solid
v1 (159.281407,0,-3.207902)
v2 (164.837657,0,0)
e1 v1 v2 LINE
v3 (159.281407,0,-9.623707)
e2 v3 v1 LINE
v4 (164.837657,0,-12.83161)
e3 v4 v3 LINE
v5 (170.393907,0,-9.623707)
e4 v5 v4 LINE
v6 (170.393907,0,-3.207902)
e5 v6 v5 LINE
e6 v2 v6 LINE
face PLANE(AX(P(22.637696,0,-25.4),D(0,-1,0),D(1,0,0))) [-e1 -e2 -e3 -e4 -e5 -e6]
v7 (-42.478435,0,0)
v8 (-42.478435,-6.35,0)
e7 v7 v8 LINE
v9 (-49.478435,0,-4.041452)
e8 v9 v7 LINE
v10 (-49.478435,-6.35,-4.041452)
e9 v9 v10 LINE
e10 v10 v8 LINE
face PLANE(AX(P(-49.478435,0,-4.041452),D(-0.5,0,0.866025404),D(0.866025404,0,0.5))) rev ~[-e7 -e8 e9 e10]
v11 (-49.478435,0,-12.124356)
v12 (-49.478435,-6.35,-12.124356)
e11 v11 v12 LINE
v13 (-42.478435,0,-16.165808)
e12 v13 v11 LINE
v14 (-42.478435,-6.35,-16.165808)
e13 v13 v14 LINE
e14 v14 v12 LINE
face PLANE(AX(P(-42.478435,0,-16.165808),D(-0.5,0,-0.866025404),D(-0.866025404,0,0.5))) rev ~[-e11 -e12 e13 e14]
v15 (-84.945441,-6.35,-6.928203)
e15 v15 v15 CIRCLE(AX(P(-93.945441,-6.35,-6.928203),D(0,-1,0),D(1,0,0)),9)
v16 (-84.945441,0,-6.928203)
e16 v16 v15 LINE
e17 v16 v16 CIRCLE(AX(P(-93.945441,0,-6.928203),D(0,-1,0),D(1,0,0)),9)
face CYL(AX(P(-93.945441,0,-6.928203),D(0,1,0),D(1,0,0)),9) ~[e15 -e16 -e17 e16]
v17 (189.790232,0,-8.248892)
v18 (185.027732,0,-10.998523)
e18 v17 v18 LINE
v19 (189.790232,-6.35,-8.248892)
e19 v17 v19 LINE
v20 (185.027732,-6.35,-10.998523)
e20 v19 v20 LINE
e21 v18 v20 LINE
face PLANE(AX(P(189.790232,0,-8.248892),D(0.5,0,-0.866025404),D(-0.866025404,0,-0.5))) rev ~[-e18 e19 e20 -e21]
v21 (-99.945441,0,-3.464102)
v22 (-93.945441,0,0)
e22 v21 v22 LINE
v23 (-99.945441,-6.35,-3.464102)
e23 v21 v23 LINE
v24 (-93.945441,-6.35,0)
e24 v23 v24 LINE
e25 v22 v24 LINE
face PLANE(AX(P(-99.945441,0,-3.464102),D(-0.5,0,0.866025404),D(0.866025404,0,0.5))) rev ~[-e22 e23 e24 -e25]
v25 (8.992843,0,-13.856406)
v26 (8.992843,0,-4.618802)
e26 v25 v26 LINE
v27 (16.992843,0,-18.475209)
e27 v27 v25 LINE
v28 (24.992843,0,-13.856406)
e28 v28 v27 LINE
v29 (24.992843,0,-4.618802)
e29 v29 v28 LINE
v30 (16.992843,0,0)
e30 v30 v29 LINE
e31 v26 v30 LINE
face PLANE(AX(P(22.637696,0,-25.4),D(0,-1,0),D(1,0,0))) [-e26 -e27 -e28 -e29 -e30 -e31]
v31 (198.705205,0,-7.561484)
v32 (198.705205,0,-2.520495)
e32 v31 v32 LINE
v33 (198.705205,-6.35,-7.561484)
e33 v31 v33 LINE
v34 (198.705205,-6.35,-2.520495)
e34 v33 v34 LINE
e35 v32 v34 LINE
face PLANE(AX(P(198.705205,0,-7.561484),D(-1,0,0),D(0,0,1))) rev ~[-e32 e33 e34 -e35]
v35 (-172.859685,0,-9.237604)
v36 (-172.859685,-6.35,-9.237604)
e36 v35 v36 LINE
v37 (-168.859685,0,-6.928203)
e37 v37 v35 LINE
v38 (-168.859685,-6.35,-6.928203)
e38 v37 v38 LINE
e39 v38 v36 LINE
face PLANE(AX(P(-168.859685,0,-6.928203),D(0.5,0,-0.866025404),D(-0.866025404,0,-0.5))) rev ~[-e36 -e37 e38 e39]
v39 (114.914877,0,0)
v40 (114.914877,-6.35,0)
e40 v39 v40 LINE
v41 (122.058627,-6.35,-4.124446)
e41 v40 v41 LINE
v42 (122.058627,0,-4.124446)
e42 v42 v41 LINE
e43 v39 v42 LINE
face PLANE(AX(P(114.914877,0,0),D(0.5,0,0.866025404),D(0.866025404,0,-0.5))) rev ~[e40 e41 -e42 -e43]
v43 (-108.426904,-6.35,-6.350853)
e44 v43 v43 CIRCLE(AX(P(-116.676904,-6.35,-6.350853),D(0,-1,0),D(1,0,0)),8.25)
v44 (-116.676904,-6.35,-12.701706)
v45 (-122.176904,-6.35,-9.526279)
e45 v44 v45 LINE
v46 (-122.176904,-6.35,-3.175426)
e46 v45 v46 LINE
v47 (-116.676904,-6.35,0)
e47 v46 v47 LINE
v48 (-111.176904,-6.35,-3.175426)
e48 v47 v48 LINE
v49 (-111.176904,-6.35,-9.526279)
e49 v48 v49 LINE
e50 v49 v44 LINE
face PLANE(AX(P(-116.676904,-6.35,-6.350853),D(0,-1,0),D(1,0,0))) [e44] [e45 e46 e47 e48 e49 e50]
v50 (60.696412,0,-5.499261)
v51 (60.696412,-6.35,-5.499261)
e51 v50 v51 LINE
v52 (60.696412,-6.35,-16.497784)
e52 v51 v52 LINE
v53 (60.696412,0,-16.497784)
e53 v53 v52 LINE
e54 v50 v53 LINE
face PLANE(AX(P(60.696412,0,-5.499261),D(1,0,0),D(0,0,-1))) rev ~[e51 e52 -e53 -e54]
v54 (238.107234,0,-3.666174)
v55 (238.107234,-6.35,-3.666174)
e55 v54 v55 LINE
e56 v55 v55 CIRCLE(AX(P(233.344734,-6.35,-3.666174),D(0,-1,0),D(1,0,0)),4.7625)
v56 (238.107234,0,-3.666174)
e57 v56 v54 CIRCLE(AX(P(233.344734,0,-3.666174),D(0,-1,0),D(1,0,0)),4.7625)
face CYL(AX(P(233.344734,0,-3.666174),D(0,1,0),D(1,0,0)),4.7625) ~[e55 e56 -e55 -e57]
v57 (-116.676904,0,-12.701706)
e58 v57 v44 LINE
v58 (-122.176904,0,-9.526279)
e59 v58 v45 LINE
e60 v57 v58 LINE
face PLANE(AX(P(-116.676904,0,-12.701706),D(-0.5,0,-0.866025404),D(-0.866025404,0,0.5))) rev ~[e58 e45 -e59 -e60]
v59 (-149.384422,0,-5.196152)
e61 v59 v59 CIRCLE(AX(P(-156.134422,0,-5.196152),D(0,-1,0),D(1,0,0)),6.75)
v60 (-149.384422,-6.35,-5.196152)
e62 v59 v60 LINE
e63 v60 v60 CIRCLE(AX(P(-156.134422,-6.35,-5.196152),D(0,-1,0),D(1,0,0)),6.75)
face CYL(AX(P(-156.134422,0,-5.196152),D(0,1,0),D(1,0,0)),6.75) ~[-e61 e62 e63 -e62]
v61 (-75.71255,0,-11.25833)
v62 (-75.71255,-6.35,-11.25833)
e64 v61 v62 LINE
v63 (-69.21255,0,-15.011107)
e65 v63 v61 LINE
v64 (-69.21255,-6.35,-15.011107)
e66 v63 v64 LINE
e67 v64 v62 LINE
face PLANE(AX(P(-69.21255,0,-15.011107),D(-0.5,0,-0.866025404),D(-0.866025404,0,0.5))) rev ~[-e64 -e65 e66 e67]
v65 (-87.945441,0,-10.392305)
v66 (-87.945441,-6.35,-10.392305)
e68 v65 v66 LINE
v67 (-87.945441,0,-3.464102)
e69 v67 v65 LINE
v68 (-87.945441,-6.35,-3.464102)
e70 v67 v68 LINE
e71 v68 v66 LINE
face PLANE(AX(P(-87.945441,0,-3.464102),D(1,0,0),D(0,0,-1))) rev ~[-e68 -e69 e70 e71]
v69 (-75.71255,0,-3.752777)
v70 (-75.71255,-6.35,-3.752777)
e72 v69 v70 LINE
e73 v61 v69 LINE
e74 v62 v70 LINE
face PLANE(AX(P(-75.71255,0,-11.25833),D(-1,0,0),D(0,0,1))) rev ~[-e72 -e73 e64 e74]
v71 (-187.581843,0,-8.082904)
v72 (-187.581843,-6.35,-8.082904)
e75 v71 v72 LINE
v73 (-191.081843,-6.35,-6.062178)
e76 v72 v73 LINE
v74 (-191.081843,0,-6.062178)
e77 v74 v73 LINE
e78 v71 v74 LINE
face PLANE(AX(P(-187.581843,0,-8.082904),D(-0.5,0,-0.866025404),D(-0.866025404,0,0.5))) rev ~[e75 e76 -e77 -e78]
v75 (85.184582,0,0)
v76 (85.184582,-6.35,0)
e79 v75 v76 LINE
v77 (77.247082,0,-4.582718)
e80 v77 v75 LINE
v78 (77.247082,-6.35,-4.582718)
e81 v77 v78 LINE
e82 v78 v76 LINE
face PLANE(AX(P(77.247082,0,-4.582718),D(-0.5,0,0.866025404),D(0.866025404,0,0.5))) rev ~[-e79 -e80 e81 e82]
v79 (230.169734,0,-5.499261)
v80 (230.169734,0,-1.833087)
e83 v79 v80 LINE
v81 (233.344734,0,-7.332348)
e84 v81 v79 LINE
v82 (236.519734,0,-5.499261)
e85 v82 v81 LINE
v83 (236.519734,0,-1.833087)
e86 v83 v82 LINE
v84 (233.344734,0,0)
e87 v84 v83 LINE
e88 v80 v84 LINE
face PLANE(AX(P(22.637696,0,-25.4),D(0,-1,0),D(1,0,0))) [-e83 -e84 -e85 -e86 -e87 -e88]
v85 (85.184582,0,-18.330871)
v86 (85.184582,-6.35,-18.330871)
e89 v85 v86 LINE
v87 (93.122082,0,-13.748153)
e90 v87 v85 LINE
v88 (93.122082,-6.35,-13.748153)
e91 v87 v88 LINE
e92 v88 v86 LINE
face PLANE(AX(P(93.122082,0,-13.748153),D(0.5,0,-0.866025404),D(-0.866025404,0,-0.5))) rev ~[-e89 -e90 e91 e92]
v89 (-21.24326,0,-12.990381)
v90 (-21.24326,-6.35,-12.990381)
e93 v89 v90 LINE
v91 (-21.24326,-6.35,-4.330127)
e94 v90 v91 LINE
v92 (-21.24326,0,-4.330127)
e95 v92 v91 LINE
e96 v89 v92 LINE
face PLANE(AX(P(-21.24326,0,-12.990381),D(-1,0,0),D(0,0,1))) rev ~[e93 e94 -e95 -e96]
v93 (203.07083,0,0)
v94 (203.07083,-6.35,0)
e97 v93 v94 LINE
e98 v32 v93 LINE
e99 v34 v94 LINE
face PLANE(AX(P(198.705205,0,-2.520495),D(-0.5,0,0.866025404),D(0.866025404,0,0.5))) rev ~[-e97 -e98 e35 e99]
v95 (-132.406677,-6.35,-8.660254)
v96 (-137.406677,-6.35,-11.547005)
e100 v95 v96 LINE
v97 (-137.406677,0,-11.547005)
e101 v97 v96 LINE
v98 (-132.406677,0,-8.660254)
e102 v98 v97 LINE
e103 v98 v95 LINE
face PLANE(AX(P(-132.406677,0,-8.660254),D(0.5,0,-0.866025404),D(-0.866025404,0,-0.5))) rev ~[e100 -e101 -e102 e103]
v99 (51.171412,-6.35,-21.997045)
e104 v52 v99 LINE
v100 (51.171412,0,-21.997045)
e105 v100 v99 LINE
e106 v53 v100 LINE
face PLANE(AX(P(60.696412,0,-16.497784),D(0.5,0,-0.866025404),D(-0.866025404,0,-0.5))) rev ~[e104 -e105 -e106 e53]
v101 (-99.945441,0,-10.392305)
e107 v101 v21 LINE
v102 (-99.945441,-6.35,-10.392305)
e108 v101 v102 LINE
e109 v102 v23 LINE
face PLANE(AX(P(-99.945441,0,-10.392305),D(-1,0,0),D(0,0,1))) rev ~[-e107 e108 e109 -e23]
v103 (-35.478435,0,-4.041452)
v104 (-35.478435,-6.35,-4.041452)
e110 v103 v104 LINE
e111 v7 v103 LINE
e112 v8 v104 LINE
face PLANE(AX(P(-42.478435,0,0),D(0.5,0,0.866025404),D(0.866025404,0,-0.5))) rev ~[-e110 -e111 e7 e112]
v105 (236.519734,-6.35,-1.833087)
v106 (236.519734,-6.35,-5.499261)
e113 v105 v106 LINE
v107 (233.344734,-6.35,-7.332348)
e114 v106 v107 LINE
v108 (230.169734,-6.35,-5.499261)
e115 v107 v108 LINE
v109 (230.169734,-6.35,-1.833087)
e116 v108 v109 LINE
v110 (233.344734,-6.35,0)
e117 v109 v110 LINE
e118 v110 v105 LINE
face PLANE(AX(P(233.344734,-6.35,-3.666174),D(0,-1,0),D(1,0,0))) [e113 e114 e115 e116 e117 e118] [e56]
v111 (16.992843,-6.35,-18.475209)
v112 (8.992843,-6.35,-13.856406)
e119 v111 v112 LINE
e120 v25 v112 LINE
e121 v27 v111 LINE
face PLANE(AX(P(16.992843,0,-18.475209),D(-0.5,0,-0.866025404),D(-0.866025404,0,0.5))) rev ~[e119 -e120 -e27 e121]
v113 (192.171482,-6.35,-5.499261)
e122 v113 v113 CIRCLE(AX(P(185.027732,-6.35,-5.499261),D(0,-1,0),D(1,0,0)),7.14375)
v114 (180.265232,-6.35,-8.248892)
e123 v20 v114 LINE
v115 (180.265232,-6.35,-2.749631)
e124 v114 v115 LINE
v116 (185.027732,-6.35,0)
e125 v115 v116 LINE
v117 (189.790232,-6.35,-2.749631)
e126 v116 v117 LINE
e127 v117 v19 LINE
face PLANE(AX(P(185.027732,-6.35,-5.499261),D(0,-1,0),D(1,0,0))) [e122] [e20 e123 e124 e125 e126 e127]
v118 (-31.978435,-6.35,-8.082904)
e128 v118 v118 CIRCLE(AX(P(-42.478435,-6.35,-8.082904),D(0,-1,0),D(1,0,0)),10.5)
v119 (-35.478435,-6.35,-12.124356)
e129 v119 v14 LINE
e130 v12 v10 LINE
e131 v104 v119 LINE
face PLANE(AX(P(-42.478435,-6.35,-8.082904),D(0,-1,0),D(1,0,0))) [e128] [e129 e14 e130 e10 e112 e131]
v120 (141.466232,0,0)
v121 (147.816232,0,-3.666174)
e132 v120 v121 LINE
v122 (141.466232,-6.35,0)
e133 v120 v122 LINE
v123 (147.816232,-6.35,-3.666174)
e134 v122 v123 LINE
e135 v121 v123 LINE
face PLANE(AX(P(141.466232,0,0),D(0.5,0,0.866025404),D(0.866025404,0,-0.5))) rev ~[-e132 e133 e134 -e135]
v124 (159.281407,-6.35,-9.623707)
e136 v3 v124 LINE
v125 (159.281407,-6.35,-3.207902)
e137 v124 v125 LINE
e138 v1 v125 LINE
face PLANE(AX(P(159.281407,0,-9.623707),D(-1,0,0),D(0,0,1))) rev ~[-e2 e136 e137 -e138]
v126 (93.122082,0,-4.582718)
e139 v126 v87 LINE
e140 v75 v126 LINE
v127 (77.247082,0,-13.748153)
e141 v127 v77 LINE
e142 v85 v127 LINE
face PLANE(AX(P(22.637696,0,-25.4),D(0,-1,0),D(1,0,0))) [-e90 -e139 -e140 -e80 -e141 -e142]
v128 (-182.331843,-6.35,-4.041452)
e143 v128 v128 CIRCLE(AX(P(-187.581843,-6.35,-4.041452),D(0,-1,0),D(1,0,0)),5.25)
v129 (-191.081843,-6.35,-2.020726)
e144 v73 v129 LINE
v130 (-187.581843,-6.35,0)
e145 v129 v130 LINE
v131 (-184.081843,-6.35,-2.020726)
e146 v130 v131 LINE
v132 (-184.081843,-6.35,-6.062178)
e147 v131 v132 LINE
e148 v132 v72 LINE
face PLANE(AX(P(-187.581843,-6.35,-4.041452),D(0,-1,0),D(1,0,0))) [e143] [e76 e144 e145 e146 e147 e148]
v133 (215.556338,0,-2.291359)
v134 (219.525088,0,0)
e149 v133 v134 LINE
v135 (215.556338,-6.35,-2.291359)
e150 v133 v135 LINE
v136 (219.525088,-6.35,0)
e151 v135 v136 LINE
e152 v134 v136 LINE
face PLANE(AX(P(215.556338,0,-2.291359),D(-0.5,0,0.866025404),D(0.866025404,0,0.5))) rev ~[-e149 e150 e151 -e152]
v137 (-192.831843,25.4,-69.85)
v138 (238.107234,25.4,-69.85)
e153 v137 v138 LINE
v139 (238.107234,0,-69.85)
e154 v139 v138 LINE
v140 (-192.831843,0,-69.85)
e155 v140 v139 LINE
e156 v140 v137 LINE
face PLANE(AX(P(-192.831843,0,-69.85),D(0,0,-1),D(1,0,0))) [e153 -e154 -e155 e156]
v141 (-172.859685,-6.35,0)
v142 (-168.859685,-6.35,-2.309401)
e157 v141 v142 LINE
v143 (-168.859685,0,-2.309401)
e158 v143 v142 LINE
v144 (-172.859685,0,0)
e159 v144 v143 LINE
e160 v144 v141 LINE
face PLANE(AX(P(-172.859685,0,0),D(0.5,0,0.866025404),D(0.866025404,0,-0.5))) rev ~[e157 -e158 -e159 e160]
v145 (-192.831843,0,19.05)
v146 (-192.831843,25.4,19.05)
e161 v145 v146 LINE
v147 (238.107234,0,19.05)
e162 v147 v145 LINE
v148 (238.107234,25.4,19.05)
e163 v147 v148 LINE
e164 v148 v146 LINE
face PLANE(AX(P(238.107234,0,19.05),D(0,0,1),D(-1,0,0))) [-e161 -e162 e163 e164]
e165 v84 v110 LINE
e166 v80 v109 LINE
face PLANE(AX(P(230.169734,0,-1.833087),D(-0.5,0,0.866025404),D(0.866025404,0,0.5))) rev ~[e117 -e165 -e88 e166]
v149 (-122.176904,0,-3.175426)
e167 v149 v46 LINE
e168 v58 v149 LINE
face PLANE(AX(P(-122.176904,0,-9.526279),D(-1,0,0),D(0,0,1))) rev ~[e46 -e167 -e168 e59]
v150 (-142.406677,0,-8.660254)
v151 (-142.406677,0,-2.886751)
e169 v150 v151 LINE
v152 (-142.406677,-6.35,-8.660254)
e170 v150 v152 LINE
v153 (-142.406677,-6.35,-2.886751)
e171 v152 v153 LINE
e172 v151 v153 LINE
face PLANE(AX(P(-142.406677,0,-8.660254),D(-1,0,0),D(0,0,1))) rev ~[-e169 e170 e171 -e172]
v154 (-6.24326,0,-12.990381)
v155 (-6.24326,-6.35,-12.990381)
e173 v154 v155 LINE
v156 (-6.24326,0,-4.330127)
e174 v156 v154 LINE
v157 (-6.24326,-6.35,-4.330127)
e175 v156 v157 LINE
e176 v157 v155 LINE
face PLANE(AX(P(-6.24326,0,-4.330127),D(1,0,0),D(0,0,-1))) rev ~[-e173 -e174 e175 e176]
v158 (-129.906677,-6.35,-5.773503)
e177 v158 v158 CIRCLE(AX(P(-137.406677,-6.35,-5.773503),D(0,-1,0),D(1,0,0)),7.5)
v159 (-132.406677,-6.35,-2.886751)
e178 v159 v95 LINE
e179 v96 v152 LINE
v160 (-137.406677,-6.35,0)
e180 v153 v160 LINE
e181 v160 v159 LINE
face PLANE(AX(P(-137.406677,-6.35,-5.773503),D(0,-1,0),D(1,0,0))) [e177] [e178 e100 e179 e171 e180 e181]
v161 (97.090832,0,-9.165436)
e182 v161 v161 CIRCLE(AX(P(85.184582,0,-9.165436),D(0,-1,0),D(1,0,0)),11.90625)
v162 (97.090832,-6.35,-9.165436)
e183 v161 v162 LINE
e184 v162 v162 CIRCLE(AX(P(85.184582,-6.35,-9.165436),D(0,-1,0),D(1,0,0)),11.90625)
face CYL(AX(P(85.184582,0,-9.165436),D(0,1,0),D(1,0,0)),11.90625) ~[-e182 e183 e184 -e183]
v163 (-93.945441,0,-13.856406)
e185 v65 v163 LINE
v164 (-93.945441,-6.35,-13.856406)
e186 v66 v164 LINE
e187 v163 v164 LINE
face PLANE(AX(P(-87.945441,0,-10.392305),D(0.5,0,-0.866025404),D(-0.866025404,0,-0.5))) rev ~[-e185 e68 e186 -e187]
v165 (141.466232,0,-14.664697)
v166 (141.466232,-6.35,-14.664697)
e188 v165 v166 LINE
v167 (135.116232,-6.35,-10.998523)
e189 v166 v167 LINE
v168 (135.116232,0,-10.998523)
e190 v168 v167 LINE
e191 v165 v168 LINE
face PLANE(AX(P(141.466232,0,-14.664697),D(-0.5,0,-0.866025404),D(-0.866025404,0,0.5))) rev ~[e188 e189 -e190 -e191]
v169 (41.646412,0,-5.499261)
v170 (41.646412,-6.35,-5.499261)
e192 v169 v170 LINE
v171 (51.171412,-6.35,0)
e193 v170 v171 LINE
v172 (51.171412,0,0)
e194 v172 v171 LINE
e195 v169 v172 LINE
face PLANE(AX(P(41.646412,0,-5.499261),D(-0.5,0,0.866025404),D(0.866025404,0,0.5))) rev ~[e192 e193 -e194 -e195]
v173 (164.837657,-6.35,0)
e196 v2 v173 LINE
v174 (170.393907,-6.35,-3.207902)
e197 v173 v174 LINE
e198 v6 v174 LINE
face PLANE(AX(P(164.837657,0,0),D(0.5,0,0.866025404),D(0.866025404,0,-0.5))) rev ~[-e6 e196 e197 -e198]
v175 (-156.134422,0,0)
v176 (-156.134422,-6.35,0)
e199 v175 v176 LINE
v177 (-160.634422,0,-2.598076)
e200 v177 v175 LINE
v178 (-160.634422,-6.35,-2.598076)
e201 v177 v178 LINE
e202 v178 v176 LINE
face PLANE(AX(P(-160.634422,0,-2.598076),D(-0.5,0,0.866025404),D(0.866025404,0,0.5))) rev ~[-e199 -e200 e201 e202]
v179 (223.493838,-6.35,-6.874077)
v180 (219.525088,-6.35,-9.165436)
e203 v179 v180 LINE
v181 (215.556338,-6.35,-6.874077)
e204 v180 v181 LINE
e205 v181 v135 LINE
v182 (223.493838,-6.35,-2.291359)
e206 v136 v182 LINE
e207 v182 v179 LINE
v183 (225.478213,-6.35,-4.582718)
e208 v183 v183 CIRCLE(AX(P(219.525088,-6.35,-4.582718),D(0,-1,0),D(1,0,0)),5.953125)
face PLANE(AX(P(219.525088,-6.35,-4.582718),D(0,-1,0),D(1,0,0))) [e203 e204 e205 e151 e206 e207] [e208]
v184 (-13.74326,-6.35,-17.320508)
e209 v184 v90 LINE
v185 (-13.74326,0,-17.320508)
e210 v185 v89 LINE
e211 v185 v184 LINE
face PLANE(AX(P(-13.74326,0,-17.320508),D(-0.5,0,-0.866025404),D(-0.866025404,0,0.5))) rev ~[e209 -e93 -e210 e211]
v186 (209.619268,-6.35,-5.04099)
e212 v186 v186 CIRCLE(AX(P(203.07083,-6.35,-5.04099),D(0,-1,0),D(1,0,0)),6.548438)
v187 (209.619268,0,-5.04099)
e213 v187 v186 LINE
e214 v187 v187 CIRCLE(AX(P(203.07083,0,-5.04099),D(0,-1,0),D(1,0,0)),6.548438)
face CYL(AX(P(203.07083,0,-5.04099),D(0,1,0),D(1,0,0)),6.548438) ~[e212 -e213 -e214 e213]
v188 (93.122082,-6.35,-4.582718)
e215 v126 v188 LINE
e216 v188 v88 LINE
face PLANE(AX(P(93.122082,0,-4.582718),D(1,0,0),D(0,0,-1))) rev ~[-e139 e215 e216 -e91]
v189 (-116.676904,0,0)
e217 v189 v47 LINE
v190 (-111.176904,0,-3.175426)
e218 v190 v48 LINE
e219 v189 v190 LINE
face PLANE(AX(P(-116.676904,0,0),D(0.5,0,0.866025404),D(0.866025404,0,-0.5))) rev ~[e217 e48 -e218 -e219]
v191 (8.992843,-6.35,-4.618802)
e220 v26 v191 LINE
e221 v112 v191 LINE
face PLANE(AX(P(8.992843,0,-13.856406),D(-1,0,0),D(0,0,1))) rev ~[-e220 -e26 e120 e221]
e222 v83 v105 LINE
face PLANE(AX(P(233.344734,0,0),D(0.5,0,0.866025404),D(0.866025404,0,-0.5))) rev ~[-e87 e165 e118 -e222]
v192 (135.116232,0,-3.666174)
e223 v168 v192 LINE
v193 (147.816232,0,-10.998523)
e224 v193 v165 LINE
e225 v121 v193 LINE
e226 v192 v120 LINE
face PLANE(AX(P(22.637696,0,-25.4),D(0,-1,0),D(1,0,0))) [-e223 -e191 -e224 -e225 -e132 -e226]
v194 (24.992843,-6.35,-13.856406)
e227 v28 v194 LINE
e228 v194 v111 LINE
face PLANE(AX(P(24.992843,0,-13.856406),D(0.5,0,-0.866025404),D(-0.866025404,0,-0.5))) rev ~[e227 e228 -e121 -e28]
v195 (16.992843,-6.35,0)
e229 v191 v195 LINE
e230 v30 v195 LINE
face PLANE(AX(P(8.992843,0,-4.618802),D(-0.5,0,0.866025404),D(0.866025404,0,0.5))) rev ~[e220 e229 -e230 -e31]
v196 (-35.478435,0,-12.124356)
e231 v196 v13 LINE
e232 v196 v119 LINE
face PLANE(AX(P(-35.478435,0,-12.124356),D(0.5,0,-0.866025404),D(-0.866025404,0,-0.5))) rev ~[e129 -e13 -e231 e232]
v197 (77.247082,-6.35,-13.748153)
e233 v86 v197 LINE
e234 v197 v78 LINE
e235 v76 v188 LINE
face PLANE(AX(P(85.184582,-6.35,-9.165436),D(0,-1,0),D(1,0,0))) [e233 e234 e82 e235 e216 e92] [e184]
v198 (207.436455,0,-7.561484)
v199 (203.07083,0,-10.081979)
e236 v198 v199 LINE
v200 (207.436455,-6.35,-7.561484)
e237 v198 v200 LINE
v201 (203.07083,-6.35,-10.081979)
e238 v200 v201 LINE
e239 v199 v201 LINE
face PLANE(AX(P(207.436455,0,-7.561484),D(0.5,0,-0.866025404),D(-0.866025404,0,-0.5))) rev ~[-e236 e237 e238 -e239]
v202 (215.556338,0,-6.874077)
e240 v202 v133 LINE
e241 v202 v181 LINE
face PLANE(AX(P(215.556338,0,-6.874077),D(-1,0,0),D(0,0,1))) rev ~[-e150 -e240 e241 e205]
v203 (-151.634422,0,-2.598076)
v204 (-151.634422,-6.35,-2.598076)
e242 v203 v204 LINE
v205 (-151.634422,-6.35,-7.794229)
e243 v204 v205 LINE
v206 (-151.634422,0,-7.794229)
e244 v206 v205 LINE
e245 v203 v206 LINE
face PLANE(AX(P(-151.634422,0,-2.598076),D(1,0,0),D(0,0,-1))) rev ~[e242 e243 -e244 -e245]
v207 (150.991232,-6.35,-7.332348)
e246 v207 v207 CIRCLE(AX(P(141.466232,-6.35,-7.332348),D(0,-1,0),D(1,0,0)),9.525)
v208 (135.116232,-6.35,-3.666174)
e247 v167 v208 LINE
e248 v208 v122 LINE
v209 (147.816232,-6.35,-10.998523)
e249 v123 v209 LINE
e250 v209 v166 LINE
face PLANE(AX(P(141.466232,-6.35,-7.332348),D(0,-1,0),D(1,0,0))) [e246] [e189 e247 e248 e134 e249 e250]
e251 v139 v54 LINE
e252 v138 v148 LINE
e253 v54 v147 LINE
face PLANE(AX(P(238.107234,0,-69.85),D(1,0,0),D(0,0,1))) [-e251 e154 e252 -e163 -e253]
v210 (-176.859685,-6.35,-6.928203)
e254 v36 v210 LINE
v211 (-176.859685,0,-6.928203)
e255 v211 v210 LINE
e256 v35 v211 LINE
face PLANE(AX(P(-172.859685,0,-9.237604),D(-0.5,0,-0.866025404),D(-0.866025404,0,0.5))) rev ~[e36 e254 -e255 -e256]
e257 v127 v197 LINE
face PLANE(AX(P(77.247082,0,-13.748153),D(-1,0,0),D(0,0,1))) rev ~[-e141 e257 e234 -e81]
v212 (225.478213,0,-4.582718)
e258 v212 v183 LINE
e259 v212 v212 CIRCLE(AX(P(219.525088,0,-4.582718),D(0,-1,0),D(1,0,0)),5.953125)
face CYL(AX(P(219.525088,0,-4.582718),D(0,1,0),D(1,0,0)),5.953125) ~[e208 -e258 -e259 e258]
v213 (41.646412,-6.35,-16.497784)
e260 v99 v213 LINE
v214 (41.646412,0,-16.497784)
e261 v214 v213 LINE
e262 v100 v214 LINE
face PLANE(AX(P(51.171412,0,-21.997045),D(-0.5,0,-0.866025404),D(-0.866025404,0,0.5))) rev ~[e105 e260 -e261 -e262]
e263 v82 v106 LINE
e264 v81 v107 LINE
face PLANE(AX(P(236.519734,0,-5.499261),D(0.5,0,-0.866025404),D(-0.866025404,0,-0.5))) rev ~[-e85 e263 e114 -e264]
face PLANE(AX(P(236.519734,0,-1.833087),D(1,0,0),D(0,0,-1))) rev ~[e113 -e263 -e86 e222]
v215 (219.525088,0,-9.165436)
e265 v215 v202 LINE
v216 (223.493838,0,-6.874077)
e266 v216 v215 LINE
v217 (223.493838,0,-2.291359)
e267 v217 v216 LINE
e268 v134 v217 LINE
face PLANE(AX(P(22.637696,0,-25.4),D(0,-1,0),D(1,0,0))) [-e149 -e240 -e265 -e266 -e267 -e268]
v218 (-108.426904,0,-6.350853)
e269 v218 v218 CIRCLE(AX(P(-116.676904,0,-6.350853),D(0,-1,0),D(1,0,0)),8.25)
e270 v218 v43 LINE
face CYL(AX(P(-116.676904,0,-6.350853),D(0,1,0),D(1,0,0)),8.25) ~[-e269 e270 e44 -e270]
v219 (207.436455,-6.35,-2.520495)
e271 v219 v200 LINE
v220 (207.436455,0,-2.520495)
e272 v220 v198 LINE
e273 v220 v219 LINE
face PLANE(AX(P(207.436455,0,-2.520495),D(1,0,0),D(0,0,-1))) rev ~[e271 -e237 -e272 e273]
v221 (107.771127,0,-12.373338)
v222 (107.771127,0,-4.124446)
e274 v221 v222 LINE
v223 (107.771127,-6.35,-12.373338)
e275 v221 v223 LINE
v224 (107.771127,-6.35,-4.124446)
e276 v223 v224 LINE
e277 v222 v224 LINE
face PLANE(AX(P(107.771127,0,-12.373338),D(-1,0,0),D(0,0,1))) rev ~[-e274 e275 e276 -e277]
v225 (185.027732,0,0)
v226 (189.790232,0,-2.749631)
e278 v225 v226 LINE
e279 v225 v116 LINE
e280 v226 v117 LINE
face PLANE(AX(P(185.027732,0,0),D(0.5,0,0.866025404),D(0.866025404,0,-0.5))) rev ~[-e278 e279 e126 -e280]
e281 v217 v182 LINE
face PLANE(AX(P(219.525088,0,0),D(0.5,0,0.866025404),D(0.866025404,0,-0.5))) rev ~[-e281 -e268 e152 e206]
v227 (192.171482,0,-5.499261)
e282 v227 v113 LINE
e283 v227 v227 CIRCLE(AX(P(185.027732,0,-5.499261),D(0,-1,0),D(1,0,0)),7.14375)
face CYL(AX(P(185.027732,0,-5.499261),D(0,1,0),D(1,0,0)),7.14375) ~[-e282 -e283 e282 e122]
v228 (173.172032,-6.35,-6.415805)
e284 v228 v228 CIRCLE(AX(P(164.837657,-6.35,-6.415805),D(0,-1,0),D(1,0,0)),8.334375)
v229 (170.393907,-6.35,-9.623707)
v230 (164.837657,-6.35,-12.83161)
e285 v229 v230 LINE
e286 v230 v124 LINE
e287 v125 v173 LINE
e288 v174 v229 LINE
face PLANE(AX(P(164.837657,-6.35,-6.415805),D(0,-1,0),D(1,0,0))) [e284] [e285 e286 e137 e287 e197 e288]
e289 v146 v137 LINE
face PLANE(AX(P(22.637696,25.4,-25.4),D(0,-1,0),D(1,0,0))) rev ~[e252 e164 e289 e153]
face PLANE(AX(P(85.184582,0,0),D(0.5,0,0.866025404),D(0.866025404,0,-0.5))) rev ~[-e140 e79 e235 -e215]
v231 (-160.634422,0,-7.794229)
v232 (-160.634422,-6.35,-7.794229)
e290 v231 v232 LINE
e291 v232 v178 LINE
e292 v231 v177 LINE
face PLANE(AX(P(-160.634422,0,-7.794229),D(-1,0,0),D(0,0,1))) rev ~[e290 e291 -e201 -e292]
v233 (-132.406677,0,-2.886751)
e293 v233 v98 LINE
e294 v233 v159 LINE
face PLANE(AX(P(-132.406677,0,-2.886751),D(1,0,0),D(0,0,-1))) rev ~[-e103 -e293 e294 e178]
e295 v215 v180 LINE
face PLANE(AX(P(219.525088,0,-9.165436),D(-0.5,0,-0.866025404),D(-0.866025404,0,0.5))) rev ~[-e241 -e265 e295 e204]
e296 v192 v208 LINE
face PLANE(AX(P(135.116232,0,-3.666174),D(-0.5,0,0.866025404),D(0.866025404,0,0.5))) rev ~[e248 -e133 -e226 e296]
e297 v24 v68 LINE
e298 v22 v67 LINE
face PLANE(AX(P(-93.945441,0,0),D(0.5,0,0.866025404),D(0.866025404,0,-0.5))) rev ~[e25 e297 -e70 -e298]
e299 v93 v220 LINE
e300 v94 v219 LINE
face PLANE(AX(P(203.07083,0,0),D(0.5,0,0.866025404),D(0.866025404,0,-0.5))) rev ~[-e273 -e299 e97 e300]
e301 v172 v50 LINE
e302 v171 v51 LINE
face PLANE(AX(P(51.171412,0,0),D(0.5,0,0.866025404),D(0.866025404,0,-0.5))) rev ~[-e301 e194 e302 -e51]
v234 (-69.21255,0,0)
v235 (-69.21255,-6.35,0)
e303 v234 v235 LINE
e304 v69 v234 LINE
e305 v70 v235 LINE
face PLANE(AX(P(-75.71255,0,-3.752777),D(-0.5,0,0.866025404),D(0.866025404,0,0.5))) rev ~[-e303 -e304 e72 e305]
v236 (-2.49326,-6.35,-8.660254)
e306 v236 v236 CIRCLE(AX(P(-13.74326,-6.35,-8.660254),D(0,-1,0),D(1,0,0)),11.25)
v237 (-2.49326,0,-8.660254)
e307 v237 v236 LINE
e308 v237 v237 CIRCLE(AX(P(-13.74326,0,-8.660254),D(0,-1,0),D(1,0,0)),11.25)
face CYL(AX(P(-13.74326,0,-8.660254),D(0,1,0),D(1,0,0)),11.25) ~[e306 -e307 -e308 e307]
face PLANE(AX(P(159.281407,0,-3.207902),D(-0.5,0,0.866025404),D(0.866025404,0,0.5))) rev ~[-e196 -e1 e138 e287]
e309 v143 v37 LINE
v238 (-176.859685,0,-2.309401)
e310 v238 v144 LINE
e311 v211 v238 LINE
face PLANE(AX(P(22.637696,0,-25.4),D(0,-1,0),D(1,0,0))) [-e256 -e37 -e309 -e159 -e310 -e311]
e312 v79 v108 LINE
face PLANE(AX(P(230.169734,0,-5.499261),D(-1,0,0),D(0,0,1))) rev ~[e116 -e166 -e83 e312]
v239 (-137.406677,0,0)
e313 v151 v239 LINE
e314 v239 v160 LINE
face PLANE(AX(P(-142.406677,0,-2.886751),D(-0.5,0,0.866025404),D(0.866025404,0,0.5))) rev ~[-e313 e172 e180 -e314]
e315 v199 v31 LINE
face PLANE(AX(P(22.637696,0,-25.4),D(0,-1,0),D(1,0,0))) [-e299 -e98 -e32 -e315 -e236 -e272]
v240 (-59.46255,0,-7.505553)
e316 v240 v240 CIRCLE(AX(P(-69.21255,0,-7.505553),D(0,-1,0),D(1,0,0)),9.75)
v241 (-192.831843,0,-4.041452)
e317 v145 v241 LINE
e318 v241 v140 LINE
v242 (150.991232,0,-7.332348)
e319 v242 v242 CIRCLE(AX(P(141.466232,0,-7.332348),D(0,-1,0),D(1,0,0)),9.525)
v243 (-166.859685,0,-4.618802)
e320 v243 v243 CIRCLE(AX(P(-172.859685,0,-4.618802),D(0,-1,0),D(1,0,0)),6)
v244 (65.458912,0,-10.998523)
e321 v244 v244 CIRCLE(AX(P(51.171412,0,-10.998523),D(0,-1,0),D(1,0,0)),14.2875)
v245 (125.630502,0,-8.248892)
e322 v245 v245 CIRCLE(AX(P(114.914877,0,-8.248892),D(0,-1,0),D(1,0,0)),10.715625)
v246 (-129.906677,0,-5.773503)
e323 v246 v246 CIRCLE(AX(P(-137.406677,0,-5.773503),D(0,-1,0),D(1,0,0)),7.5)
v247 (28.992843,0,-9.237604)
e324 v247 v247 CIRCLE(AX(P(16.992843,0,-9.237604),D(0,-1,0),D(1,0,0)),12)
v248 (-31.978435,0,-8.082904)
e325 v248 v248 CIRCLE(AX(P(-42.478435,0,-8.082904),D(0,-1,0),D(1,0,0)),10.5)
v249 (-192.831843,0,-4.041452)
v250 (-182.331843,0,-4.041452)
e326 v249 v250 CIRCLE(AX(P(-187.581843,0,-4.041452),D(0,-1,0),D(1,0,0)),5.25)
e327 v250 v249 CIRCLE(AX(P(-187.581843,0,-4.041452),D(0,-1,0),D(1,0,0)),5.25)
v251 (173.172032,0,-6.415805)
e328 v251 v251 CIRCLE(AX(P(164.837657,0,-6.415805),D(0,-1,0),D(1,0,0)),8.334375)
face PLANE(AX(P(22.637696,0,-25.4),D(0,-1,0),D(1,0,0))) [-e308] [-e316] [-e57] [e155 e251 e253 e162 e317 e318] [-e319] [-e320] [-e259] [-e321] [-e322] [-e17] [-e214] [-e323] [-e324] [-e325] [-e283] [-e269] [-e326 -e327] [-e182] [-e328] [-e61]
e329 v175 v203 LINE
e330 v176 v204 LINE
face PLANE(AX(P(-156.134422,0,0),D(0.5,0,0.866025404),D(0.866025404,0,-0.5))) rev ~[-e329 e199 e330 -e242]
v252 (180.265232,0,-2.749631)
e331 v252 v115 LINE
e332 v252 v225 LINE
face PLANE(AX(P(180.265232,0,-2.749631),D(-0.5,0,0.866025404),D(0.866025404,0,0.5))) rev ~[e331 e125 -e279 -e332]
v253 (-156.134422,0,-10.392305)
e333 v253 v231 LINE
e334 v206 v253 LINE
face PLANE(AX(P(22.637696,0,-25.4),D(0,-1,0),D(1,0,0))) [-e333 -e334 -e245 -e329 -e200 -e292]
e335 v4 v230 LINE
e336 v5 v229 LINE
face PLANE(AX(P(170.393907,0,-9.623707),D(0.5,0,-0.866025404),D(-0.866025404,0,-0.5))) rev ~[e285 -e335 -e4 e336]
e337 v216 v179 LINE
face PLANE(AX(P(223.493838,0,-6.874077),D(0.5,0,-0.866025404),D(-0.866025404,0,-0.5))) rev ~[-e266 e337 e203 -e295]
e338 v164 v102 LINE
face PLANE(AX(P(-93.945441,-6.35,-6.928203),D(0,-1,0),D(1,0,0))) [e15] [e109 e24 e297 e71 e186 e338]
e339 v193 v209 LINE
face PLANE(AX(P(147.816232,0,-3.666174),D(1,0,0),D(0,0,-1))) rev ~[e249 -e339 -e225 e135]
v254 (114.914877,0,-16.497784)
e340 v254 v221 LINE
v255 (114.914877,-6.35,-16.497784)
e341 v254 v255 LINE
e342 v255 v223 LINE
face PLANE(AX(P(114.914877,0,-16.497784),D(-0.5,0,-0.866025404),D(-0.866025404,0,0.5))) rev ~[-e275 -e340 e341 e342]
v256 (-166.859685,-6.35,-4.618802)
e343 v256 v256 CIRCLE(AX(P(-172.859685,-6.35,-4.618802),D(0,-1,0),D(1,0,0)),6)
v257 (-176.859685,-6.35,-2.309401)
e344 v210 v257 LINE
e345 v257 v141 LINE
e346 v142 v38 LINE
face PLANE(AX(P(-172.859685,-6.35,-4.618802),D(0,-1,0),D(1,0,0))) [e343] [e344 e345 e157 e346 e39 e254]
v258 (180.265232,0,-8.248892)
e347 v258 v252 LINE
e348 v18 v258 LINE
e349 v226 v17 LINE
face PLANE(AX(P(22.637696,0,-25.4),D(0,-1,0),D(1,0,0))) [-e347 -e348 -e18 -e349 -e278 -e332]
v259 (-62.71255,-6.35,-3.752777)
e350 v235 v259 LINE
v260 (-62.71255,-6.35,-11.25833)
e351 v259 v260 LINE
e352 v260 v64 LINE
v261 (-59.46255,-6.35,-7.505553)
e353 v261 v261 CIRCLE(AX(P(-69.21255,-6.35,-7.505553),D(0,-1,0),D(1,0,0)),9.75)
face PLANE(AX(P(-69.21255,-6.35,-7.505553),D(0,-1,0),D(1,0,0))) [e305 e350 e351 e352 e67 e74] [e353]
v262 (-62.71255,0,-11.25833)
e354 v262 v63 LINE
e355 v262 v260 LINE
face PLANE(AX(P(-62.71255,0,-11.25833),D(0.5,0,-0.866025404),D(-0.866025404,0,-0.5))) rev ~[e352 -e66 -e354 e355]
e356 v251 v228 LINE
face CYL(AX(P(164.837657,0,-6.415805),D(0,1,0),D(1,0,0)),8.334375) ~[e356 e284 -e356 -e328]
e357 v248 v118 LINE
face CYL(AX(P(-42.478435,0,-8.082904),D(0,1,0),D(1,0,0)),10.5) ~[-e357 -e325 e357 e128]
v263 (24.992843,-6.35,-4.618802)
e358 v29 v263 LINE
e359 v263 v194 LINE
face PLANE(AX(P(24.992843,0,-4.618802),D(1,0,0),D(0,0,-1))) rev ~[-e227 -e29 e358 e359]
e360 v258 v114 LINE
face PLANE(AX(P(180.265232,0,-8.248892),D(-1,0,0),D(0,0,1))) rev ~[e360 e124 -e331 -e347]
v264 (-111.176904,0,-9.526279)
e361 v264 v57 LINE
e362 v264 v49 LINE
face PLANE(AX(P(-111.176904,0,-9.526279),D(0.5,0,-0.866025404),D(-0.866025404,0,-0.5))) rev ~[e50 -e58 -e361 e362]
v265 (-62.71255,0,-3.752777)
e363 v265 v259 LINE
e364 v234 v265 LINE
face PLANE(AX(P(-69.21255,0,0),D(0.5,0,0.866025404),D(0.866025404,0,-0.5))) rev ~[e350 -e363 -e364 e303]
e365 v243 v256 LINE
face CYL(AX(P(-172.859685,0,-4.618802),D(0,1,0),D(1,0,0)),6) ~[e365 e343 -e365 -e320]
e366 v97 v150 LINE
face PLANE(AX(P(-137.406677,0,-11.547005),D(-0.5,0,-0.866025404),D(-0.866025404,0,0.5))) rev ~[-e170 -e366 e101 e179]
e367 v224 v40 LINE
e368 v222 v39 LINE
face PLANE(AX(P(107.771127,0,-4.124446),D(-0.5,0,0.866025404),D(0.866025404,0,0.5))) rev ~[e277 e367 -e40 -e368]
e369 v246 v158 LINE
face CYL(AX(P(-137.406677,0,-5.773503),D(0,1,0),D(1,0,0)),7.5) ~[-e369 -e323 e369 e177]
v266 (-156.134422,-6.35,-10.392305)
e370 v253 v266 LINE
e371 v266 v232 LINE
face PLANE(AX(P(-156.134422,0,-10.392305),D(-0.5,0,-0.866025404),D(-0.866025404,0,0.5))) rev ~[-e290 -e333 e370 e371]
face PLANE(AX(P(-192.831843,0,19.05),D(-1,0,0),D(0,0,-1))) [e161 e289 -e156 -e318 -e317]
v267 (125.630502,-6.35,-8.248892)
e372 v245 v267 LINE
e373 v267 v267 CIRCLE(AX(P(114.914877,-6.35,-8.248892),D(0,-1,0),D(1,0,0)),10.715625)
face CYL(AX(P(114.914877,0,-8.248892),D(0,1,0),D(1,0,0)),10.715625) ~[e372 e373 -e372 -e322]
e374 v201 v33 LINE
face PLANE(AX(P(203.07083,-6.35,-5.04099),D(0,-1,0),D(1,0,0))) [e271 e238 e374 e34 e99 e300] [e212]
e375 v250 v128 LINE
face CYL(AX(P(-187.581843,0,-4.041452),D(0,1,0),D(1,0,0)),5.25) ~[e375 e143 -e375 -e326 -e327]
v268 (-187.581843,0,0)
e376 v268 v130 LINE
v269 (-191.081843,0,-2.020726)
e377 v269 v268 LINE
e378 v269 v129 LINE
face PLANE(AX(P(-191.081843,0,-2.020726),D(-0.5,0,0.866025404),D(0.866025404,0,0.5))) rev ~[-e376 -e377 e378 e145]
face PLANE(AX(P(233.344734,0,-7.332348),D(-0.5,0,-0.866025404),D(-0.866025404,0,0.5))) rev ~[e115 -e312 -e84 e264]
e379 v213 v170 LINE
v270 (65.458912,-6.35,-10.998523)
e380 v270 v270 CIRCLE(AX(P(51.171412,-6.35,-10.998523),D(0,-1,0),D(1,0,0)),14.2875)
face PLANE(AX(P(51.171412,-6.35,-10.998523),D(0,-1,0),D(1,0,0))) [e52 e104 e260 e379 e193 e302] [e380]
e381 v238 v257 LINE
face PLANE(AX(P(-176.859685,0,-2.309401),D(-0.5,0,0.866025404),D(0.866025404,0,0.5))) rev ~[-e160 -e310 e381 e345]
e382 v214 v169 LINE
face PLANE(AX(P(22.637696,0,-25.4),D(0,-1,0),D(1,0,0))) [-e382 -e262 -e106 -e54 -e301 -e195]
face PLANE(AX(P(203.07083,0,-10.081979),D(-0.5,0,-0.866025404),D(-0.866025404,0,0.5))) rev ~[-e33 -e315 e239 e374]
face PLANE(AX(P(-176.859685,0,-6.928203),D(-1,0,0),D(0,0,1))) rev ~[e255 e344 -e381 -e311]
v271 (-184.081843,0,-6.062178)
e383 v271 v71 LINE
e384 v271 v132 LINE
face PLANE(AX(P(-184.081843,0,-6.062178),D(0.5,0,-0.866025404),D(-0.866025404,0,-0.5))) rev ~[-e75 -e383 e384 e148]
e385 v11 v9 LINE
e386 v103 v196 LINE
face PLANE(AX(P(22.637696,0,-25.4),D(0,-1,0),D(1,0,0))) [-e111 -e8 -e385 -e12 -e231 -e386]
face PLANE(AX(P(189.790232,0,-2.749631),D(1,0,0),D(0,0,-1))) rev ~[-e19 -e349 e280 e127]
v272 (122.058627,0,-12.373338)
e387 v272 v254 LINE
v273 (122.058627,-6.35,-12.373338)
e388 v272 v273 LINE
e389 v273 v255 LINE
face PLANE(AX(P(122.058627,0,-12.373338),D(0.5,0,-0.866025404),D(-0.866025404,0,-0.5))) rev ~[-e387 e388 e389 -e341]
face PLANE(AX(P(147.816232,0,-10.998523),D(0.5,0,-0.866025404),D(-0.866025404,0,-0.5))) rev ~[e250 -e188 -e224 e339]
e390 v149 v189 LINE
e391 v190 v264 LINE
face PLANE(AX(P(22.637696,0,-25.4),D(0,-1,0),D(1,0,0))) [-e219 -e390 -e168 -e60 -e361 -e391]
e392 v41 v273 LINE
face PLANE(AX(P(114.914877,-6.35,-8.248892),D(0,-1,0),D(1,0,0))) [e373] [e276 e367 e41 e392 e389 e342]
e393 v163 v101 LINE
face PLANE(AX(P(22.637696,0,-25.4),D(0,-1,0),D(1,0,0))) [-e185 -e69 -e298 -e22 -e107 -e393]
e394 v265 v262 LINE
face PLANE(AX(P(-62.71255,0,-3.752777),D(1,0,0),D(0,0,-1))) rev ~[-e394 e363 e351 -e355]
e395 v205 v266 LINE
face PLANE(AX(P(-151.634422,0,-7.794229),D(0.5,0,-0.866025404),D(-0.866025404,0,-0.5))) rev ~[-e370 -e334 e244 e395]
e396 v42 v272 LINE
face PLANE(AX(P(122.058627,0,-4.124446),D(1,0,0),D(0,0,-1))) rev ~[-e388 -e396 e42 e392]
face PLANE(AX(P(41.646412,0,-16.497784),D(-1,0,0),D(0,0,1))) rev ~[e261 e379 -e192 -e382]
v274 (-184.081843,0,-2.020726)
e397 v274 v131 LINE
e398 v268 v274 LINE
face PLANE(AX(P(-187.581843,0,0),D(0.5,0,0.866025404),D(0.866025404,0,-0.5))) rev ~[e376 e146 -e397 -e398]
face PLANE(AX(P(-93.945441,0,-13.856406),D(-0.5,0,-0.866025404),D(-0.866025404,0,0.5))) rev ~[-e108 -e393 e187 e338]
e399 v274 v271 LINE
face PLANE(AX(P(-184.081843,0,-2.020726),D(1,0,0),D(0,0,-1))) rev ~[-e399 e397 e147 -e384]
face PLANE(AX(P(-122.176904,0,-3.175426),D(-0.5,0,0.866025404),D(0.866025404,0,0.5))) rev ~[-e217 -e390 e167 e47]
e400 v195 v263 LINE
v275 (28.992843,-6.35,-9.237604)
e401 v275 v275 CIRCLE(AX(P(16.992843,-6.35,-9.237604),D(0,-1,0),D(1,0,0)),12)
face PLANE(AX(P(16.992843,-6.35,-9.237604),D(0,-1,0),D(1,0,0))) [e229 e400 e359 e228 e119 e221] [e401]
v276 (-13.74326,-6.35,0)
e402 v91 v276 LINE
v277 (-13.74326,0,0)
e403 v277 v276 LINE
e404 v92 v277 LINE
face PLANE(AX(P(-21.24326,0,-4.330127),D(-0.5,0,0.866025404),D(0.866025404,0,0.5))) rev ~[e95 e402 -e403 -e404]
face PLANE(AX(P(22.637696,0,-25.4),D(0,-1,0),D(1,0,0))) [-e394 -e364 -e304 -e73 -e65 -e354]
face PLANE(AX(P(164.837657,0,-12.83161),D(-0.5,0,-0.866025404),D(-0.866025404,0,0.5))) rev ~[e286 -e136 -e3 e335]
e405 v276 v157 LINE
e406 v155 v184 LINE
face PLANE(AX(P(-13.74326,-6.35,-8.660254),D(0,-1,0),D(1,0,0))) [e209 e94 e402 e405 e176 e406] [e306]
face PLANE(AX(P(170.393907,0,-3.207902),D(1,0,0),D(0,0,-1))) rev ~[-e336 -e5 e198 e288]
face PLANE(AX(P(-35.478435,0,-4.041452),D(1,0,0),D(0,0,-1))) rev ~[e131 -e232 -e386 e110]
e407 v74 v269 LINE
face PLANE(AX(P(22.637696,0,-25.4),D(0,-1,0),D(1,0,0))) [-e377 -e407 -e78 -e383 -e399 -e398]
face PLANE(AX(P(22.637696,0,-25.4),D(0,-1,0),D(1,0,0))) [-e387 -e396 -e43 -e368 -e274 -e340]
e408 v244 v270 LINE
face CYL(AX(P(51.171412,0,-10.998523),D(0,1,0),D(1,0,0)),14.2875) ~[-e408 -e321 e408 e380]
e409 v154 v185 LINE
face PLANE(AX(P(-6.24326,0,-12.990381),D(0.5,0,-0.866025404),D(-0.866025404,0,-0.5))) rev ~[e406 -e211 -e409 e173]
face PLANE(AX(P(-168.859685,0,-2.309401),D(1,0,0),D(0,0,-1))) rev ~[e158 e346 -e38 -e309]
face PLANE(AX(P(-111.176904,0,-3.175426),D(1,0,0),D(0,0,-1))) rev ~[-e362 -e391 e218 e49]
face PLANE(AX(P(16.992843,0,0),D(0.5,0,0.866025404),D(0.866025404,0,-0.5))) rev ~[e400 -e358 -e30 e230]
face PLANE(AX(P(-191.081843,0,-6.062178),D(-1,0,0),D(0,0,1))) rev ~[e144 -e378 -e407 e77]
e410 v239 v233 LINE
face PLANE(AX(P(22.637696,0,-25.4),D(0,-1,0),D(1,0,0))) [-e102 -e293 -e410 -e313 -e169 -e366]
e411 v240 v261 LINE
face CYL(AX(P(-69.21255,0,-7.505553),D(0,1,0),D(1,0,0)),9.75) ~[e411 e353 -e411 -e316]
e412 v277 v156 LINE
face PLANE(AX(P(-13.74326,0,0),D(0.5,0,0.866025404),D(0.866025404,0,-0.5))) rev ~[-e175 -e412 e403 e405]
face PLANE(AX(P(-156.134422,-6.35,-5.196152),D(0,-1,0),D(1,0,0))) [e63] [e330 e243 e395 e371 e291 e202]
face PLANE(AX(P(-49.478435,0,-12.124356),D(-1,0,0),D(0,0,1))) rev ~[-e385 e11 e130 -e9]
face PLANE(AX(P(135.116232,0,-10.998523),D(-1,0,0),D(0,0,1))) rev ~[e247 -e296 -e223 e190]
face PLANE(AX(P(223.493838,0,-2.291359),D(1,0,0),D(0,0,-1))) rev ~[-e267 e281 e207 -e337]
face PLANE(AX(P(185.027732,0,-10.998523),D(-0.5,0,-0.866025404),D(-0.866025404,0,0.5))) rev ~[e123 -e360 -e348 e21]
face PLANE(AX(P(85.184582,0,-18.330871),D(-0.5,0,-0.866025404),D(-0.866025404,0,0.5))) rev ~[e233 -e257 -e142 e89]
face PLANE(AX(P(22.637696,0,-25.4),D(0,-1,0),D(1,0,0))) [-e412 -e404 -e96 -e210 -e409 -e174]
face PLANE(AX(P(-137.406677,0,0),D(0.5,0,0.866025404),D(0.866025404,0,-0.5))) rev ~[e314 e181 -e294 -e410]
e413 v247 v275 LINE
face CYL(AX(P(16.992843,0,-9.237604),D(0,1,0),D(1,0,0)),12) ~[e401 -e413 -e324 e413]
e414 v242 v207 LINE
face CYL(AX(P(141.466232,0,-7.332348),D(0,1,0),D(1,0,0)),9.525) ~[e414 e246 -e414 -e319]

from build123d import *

# Parameters (mm, degrees)
F4_DEPTH = 25.4
F1_R     = 12
F1_R_2   = 11.25
F1_R_3   = 10.5
F1_R_4   = 9.75
F1_R_5   = 9
F1_R_6   = 8.25
F1_R_7   = 7.5
F1_R_8   = 6.75
F1_R_9   = 6
F1_R_10  = 5.25
F5_DEPTH = 6.35
F2_R     = 14.2875
F2_R_2   = 11.90625
F2_R_3   = 10.715625
F2_R_4   = 9.525
F2_R_5   = 8.334375
F2_R_6   = 7.14375
F2_R_7   = 6.5484375
F2_R_8   = 5.953125
F2_R_9   = 4.7625
F6_DEPTH = 6.35


with BuildPart() as f4:
    # F3 (on Front) → F4 (new body)
    with BuildSketch(Plane.XZ):
        Polygon((238.1072341616, -69.85), (238.1072341616, 19.05), (-192.8318425985, 19.05), (-192.8318425985, -4.0414518917), (-192.8318425985, -69.85), align=None)
        with BuildLine():
            ThreePointArc((-182.3318425985, -4.0414518843), (-187.5818425948, -9.2914518843), (-192.8318425985, -4.0414518917))
            ThreePointArc((-192.8318425985, -4.0414518917), (-187.5818426022, 1.2085481157), (-182.3318425985, -4.0414518843))
        make_face(mode=Mode.SUBTRACT)
        with BuildLine():
            ThreePointArc((-182.3318425985, -4.0414518843), (-187.5818426022, 1.2085481157), (-192.8318425985, -4.0414518917))
            ThreePointArc((-192.8318425985, -4.0414518917), (-187.5818425948, -9.2914518843), (-182.3318425985, -4.0414518843))
        make_face()
    extrude(amount=-F4_DEPTH)

    # F1 (on Front) → F5 (join)
    with BuildSketch(Plane.XZ):
        with Locations((16.9928430942, -9.237604307)):
            Circle(F1_R)
        Polygon((16.9928430942, 0), (24.9928430942, -4.6188021535), (24.9928430942, -13.8564064606), (16.9928430942, -18.4752086141), (8.9928430942, -13.8564064606), (8.9928430942, -4.6188021535), align=None, mode=Mode.SUBTRACT)
        with Locations((-13.7432599701, -8.6602540378)):
            Circle(F1_R_2)
        Polygon((-13.7432599701, 0), (-6.2432599701, -4.3301270189), (-6.2432599701, -12.9903810568), (-13.7432599701, -17.3205080757), (-21.2432599701, -12.9903810568), (-21.2432599701, -4.3301270189), align=None, mode=Mode.SUBTRACT)
        with Locations((-42.4784353878, -8.0829037687)):
            Circle(F1_R_3)
        Polygon((-42.4784353878, 0), (-35.4784353878, -4.0414518843), (-35.4784353878, -12.124355653), (-42.4784353878, -16.1658075373), (-49.4784353878, -12.124355653), (-49.4784353878, -4.0414518843), align=None, mode=Mode.SUBTRACT)
        with Locations((-69.212550356, -7.5055534995)):
            Circle(F1_R_4)
        Polygon((-69.212550356, 0), (-62.712550356, -3.7527767497), (-62.712550356, -11.2583302492), (-69.212550356, -15.0111069989), (-75.712550356, -11.2583302492), (-75.712550356, -3.7527767497), align=None, mode=Mode.SUBTRACT)
        with Locations((-93.9454413277, -6.9282032303)):
            Circle(F1_R_5)
        Polygon((-93.9454413277, 0), (-87.9454413277, -3.4641016151), (-87.9454413277, -10.3923048454), (-93.9454413277, -13.8564064606), (-99.9454413277, -10.3923048454), (-99.9454413277, -3.4641016151), align=None, mode=Mode.SUBTRACT)
        with Locations((-116.6769037179, -6.3508529611)):
            Circle(F1_R_6)
        Polygon((-116.6769037179, 0), (-111.1769037179, -3.1754264805), (-111.1769037179, -9.5262794416), (-116.6769037179, -12.7017059222), (-122.1769037179, -9.5262794416), (-122.1769037179, -3.1754264805), align=None, mode=Mode.SUBTRACT)
        with Locations((-137.4066769023, -5.7735026919)):
            Circle(F1_R_7)
        Polygon((-137.4066769023, 0), (-132.4066769023, -2.8867513459), (-132.4066769023, -8.6602540378), (-137.4066769023, -11.5470053838), (-142.4066769023, -8.6602540378), (-142.4066769023, -2.8867513459), align=None, mode=Mode.SUBTRACT)
        with Locations((-156.1344216603, -5.1961524227)):
            Circle(F1_R_8)
        Polygon((-156.1344216603, 0), (-151.6344216603, -2.5980762114), (-151.6344216603, -7.7942286341), (-156.1344216603, -10.3923048454), (-160.6344216603, -7.7942286341), (-160.6344216603, -2.5980762114), align=None, mode=Mode.SUBTRACT)
        with Locations((-172.8596849761, -4.6188021535)):
            Circle(F1_R_9)
        Polygon((-172.8596849761, 0), (-168.8596849761, -2.3094010768), (-168.8596849761, -6.9282032303), (-172.8596849761, -9.237604307), (-176.8596849761, -6.9282032303), (-176.8596849761, -2.3094010768), align=None, mode=Mode.SUBTRACT)
        with Locations((-187.5818425985, -4.0414518843)):
            Circle(F1_R_10)
        Polygon((-187.5818425985, 0), (-184.0818425985, -2.0207259422), (-184.0818425985, -6.0621778265), (-187.5818425985, -8.0829037687), (-191.0818425985, -6.0621778265), (-191.0818425985, -2.0207259422), align=None, mode=Mode.SUBTRACT)
    extrude(amount=F5_DEPTH)

    # F2 (on Front) → F6 (join, through all)
    with BuildSketch(Plane.XZ):
        with Locations((51.1714122362, -10.9985226281)):
            Circle(F2_R)
        Polygon((51.1714122362, 0), (60.6964122362, -5.499261314), (60.6964122362, -16.4977839421), (51.1714122362, -21.9970452561), (41.6464122362, -16.4977839421), (41.6464122362, -5.499261314), align=None, mode=Mode.SUBTRACT)
        with Locations((85.1845816992, -9.1654355234)):
            Circle(F2_R_2)
        Polygon((85.1845816992, 0), (93.1220816992, -4.5827177617), (93.1220816992, -13.7481532851), (85.1845816992, -18.3308710468), (77.2470816992, -13.7481532851), (77.2470816992, -4.5827177617), align=None, mode=Mode.SUBTRACT)
        with Locations((114.9148765026, -8.248891971)):
            Circle(F2_R_3)
        Polygon((114.9148765026, 0), (122.0586265026, -4.1244459855), (122.0586265026, -12.3733379566), (114.9148765026, -16.4977839421), (107.7711265026, -12.3733379566), (107.7711265026, -4.1244459855), align=None, mode=Mode.SUBTRACT)
        with Locations((141.4662320164, -7.3323484187)):
            Circle(F2_R_4)
        Polygon((141.4662320164, 0), (147.8162320164, -3.6661742094), (147.8162320164, -10.9985226281), (141.4662320164, -14.6646968374), (135.1162320164, -10.9985226281), (135.1162320164, -3.6661742094), align=None, mode=Mode.SUBTRACT)
        with Locations((164.837657242, -6.4158048664)):
            Circle(F2_R_5)
        Polygon((164.837657242, 0), (170.393907242, -3.2079024332), (170.393907242, -9.6237072996), (164.837657242, -12.8316097328), (159.281407242, -9.6237072996), (159.281407242, -3.2079024332), align=None, mode=Mode.SUBTRACT)
        with Locations((185.0277321168, -5.499261314)):
            Circle(F2_R_6)
        Polygon((185.0277321168, 0), (189.7902321168, -2.749630657), (189.7902321168, -8.248891971), (185.0277321168, -10.9985226281), (180.2652321168, -8.248891971), (180.2652321168, -2.749630657), align=None, mode=Mode.SUBTRACT)
        with Locations((203.070830389, -5.0409895379)):
            Circle(F2_R_7)
        Polygon((203.070830389, 0), (207.436455389, -2.5204947689), (207.436455389, -7.5614843068), (203.070830389, -10.0819790757), (198.705205389, -7.5614843068), (198.705205389, -2.5204947689), align=None, mode=Mode.SUBTRACT)
        with Locations((219.5250878542, -4.5827177617)):
            Circle(F2_R_8)
        Polygon((219.5250878542, 0), (223.4938378542, -2.2913588808), (223.4938378542, -6.8740766425), (219.5250878542, -9.1654355234), (215.5563378542, -6.8740766425), (215.5563378542, -2.2913588808), align=None, mode=Mode.SUBTRACT)
        with Locations((233.3447341616, -3.6661742094)):
            Circle(F2_R_9)
        Polygon((233.3447341616, 0), (236.5197341616, -1.8330871047), (236.5197341616, -5.499261314), (233.3447341616, -7.3323484187), (230.1697341616, -5.499261314), (230.1697341616, -1.8330871047), align=None, mode=Mode.SUBTRACT)
    extrude(amount=F6_DEPTH)


solid = f4.part
